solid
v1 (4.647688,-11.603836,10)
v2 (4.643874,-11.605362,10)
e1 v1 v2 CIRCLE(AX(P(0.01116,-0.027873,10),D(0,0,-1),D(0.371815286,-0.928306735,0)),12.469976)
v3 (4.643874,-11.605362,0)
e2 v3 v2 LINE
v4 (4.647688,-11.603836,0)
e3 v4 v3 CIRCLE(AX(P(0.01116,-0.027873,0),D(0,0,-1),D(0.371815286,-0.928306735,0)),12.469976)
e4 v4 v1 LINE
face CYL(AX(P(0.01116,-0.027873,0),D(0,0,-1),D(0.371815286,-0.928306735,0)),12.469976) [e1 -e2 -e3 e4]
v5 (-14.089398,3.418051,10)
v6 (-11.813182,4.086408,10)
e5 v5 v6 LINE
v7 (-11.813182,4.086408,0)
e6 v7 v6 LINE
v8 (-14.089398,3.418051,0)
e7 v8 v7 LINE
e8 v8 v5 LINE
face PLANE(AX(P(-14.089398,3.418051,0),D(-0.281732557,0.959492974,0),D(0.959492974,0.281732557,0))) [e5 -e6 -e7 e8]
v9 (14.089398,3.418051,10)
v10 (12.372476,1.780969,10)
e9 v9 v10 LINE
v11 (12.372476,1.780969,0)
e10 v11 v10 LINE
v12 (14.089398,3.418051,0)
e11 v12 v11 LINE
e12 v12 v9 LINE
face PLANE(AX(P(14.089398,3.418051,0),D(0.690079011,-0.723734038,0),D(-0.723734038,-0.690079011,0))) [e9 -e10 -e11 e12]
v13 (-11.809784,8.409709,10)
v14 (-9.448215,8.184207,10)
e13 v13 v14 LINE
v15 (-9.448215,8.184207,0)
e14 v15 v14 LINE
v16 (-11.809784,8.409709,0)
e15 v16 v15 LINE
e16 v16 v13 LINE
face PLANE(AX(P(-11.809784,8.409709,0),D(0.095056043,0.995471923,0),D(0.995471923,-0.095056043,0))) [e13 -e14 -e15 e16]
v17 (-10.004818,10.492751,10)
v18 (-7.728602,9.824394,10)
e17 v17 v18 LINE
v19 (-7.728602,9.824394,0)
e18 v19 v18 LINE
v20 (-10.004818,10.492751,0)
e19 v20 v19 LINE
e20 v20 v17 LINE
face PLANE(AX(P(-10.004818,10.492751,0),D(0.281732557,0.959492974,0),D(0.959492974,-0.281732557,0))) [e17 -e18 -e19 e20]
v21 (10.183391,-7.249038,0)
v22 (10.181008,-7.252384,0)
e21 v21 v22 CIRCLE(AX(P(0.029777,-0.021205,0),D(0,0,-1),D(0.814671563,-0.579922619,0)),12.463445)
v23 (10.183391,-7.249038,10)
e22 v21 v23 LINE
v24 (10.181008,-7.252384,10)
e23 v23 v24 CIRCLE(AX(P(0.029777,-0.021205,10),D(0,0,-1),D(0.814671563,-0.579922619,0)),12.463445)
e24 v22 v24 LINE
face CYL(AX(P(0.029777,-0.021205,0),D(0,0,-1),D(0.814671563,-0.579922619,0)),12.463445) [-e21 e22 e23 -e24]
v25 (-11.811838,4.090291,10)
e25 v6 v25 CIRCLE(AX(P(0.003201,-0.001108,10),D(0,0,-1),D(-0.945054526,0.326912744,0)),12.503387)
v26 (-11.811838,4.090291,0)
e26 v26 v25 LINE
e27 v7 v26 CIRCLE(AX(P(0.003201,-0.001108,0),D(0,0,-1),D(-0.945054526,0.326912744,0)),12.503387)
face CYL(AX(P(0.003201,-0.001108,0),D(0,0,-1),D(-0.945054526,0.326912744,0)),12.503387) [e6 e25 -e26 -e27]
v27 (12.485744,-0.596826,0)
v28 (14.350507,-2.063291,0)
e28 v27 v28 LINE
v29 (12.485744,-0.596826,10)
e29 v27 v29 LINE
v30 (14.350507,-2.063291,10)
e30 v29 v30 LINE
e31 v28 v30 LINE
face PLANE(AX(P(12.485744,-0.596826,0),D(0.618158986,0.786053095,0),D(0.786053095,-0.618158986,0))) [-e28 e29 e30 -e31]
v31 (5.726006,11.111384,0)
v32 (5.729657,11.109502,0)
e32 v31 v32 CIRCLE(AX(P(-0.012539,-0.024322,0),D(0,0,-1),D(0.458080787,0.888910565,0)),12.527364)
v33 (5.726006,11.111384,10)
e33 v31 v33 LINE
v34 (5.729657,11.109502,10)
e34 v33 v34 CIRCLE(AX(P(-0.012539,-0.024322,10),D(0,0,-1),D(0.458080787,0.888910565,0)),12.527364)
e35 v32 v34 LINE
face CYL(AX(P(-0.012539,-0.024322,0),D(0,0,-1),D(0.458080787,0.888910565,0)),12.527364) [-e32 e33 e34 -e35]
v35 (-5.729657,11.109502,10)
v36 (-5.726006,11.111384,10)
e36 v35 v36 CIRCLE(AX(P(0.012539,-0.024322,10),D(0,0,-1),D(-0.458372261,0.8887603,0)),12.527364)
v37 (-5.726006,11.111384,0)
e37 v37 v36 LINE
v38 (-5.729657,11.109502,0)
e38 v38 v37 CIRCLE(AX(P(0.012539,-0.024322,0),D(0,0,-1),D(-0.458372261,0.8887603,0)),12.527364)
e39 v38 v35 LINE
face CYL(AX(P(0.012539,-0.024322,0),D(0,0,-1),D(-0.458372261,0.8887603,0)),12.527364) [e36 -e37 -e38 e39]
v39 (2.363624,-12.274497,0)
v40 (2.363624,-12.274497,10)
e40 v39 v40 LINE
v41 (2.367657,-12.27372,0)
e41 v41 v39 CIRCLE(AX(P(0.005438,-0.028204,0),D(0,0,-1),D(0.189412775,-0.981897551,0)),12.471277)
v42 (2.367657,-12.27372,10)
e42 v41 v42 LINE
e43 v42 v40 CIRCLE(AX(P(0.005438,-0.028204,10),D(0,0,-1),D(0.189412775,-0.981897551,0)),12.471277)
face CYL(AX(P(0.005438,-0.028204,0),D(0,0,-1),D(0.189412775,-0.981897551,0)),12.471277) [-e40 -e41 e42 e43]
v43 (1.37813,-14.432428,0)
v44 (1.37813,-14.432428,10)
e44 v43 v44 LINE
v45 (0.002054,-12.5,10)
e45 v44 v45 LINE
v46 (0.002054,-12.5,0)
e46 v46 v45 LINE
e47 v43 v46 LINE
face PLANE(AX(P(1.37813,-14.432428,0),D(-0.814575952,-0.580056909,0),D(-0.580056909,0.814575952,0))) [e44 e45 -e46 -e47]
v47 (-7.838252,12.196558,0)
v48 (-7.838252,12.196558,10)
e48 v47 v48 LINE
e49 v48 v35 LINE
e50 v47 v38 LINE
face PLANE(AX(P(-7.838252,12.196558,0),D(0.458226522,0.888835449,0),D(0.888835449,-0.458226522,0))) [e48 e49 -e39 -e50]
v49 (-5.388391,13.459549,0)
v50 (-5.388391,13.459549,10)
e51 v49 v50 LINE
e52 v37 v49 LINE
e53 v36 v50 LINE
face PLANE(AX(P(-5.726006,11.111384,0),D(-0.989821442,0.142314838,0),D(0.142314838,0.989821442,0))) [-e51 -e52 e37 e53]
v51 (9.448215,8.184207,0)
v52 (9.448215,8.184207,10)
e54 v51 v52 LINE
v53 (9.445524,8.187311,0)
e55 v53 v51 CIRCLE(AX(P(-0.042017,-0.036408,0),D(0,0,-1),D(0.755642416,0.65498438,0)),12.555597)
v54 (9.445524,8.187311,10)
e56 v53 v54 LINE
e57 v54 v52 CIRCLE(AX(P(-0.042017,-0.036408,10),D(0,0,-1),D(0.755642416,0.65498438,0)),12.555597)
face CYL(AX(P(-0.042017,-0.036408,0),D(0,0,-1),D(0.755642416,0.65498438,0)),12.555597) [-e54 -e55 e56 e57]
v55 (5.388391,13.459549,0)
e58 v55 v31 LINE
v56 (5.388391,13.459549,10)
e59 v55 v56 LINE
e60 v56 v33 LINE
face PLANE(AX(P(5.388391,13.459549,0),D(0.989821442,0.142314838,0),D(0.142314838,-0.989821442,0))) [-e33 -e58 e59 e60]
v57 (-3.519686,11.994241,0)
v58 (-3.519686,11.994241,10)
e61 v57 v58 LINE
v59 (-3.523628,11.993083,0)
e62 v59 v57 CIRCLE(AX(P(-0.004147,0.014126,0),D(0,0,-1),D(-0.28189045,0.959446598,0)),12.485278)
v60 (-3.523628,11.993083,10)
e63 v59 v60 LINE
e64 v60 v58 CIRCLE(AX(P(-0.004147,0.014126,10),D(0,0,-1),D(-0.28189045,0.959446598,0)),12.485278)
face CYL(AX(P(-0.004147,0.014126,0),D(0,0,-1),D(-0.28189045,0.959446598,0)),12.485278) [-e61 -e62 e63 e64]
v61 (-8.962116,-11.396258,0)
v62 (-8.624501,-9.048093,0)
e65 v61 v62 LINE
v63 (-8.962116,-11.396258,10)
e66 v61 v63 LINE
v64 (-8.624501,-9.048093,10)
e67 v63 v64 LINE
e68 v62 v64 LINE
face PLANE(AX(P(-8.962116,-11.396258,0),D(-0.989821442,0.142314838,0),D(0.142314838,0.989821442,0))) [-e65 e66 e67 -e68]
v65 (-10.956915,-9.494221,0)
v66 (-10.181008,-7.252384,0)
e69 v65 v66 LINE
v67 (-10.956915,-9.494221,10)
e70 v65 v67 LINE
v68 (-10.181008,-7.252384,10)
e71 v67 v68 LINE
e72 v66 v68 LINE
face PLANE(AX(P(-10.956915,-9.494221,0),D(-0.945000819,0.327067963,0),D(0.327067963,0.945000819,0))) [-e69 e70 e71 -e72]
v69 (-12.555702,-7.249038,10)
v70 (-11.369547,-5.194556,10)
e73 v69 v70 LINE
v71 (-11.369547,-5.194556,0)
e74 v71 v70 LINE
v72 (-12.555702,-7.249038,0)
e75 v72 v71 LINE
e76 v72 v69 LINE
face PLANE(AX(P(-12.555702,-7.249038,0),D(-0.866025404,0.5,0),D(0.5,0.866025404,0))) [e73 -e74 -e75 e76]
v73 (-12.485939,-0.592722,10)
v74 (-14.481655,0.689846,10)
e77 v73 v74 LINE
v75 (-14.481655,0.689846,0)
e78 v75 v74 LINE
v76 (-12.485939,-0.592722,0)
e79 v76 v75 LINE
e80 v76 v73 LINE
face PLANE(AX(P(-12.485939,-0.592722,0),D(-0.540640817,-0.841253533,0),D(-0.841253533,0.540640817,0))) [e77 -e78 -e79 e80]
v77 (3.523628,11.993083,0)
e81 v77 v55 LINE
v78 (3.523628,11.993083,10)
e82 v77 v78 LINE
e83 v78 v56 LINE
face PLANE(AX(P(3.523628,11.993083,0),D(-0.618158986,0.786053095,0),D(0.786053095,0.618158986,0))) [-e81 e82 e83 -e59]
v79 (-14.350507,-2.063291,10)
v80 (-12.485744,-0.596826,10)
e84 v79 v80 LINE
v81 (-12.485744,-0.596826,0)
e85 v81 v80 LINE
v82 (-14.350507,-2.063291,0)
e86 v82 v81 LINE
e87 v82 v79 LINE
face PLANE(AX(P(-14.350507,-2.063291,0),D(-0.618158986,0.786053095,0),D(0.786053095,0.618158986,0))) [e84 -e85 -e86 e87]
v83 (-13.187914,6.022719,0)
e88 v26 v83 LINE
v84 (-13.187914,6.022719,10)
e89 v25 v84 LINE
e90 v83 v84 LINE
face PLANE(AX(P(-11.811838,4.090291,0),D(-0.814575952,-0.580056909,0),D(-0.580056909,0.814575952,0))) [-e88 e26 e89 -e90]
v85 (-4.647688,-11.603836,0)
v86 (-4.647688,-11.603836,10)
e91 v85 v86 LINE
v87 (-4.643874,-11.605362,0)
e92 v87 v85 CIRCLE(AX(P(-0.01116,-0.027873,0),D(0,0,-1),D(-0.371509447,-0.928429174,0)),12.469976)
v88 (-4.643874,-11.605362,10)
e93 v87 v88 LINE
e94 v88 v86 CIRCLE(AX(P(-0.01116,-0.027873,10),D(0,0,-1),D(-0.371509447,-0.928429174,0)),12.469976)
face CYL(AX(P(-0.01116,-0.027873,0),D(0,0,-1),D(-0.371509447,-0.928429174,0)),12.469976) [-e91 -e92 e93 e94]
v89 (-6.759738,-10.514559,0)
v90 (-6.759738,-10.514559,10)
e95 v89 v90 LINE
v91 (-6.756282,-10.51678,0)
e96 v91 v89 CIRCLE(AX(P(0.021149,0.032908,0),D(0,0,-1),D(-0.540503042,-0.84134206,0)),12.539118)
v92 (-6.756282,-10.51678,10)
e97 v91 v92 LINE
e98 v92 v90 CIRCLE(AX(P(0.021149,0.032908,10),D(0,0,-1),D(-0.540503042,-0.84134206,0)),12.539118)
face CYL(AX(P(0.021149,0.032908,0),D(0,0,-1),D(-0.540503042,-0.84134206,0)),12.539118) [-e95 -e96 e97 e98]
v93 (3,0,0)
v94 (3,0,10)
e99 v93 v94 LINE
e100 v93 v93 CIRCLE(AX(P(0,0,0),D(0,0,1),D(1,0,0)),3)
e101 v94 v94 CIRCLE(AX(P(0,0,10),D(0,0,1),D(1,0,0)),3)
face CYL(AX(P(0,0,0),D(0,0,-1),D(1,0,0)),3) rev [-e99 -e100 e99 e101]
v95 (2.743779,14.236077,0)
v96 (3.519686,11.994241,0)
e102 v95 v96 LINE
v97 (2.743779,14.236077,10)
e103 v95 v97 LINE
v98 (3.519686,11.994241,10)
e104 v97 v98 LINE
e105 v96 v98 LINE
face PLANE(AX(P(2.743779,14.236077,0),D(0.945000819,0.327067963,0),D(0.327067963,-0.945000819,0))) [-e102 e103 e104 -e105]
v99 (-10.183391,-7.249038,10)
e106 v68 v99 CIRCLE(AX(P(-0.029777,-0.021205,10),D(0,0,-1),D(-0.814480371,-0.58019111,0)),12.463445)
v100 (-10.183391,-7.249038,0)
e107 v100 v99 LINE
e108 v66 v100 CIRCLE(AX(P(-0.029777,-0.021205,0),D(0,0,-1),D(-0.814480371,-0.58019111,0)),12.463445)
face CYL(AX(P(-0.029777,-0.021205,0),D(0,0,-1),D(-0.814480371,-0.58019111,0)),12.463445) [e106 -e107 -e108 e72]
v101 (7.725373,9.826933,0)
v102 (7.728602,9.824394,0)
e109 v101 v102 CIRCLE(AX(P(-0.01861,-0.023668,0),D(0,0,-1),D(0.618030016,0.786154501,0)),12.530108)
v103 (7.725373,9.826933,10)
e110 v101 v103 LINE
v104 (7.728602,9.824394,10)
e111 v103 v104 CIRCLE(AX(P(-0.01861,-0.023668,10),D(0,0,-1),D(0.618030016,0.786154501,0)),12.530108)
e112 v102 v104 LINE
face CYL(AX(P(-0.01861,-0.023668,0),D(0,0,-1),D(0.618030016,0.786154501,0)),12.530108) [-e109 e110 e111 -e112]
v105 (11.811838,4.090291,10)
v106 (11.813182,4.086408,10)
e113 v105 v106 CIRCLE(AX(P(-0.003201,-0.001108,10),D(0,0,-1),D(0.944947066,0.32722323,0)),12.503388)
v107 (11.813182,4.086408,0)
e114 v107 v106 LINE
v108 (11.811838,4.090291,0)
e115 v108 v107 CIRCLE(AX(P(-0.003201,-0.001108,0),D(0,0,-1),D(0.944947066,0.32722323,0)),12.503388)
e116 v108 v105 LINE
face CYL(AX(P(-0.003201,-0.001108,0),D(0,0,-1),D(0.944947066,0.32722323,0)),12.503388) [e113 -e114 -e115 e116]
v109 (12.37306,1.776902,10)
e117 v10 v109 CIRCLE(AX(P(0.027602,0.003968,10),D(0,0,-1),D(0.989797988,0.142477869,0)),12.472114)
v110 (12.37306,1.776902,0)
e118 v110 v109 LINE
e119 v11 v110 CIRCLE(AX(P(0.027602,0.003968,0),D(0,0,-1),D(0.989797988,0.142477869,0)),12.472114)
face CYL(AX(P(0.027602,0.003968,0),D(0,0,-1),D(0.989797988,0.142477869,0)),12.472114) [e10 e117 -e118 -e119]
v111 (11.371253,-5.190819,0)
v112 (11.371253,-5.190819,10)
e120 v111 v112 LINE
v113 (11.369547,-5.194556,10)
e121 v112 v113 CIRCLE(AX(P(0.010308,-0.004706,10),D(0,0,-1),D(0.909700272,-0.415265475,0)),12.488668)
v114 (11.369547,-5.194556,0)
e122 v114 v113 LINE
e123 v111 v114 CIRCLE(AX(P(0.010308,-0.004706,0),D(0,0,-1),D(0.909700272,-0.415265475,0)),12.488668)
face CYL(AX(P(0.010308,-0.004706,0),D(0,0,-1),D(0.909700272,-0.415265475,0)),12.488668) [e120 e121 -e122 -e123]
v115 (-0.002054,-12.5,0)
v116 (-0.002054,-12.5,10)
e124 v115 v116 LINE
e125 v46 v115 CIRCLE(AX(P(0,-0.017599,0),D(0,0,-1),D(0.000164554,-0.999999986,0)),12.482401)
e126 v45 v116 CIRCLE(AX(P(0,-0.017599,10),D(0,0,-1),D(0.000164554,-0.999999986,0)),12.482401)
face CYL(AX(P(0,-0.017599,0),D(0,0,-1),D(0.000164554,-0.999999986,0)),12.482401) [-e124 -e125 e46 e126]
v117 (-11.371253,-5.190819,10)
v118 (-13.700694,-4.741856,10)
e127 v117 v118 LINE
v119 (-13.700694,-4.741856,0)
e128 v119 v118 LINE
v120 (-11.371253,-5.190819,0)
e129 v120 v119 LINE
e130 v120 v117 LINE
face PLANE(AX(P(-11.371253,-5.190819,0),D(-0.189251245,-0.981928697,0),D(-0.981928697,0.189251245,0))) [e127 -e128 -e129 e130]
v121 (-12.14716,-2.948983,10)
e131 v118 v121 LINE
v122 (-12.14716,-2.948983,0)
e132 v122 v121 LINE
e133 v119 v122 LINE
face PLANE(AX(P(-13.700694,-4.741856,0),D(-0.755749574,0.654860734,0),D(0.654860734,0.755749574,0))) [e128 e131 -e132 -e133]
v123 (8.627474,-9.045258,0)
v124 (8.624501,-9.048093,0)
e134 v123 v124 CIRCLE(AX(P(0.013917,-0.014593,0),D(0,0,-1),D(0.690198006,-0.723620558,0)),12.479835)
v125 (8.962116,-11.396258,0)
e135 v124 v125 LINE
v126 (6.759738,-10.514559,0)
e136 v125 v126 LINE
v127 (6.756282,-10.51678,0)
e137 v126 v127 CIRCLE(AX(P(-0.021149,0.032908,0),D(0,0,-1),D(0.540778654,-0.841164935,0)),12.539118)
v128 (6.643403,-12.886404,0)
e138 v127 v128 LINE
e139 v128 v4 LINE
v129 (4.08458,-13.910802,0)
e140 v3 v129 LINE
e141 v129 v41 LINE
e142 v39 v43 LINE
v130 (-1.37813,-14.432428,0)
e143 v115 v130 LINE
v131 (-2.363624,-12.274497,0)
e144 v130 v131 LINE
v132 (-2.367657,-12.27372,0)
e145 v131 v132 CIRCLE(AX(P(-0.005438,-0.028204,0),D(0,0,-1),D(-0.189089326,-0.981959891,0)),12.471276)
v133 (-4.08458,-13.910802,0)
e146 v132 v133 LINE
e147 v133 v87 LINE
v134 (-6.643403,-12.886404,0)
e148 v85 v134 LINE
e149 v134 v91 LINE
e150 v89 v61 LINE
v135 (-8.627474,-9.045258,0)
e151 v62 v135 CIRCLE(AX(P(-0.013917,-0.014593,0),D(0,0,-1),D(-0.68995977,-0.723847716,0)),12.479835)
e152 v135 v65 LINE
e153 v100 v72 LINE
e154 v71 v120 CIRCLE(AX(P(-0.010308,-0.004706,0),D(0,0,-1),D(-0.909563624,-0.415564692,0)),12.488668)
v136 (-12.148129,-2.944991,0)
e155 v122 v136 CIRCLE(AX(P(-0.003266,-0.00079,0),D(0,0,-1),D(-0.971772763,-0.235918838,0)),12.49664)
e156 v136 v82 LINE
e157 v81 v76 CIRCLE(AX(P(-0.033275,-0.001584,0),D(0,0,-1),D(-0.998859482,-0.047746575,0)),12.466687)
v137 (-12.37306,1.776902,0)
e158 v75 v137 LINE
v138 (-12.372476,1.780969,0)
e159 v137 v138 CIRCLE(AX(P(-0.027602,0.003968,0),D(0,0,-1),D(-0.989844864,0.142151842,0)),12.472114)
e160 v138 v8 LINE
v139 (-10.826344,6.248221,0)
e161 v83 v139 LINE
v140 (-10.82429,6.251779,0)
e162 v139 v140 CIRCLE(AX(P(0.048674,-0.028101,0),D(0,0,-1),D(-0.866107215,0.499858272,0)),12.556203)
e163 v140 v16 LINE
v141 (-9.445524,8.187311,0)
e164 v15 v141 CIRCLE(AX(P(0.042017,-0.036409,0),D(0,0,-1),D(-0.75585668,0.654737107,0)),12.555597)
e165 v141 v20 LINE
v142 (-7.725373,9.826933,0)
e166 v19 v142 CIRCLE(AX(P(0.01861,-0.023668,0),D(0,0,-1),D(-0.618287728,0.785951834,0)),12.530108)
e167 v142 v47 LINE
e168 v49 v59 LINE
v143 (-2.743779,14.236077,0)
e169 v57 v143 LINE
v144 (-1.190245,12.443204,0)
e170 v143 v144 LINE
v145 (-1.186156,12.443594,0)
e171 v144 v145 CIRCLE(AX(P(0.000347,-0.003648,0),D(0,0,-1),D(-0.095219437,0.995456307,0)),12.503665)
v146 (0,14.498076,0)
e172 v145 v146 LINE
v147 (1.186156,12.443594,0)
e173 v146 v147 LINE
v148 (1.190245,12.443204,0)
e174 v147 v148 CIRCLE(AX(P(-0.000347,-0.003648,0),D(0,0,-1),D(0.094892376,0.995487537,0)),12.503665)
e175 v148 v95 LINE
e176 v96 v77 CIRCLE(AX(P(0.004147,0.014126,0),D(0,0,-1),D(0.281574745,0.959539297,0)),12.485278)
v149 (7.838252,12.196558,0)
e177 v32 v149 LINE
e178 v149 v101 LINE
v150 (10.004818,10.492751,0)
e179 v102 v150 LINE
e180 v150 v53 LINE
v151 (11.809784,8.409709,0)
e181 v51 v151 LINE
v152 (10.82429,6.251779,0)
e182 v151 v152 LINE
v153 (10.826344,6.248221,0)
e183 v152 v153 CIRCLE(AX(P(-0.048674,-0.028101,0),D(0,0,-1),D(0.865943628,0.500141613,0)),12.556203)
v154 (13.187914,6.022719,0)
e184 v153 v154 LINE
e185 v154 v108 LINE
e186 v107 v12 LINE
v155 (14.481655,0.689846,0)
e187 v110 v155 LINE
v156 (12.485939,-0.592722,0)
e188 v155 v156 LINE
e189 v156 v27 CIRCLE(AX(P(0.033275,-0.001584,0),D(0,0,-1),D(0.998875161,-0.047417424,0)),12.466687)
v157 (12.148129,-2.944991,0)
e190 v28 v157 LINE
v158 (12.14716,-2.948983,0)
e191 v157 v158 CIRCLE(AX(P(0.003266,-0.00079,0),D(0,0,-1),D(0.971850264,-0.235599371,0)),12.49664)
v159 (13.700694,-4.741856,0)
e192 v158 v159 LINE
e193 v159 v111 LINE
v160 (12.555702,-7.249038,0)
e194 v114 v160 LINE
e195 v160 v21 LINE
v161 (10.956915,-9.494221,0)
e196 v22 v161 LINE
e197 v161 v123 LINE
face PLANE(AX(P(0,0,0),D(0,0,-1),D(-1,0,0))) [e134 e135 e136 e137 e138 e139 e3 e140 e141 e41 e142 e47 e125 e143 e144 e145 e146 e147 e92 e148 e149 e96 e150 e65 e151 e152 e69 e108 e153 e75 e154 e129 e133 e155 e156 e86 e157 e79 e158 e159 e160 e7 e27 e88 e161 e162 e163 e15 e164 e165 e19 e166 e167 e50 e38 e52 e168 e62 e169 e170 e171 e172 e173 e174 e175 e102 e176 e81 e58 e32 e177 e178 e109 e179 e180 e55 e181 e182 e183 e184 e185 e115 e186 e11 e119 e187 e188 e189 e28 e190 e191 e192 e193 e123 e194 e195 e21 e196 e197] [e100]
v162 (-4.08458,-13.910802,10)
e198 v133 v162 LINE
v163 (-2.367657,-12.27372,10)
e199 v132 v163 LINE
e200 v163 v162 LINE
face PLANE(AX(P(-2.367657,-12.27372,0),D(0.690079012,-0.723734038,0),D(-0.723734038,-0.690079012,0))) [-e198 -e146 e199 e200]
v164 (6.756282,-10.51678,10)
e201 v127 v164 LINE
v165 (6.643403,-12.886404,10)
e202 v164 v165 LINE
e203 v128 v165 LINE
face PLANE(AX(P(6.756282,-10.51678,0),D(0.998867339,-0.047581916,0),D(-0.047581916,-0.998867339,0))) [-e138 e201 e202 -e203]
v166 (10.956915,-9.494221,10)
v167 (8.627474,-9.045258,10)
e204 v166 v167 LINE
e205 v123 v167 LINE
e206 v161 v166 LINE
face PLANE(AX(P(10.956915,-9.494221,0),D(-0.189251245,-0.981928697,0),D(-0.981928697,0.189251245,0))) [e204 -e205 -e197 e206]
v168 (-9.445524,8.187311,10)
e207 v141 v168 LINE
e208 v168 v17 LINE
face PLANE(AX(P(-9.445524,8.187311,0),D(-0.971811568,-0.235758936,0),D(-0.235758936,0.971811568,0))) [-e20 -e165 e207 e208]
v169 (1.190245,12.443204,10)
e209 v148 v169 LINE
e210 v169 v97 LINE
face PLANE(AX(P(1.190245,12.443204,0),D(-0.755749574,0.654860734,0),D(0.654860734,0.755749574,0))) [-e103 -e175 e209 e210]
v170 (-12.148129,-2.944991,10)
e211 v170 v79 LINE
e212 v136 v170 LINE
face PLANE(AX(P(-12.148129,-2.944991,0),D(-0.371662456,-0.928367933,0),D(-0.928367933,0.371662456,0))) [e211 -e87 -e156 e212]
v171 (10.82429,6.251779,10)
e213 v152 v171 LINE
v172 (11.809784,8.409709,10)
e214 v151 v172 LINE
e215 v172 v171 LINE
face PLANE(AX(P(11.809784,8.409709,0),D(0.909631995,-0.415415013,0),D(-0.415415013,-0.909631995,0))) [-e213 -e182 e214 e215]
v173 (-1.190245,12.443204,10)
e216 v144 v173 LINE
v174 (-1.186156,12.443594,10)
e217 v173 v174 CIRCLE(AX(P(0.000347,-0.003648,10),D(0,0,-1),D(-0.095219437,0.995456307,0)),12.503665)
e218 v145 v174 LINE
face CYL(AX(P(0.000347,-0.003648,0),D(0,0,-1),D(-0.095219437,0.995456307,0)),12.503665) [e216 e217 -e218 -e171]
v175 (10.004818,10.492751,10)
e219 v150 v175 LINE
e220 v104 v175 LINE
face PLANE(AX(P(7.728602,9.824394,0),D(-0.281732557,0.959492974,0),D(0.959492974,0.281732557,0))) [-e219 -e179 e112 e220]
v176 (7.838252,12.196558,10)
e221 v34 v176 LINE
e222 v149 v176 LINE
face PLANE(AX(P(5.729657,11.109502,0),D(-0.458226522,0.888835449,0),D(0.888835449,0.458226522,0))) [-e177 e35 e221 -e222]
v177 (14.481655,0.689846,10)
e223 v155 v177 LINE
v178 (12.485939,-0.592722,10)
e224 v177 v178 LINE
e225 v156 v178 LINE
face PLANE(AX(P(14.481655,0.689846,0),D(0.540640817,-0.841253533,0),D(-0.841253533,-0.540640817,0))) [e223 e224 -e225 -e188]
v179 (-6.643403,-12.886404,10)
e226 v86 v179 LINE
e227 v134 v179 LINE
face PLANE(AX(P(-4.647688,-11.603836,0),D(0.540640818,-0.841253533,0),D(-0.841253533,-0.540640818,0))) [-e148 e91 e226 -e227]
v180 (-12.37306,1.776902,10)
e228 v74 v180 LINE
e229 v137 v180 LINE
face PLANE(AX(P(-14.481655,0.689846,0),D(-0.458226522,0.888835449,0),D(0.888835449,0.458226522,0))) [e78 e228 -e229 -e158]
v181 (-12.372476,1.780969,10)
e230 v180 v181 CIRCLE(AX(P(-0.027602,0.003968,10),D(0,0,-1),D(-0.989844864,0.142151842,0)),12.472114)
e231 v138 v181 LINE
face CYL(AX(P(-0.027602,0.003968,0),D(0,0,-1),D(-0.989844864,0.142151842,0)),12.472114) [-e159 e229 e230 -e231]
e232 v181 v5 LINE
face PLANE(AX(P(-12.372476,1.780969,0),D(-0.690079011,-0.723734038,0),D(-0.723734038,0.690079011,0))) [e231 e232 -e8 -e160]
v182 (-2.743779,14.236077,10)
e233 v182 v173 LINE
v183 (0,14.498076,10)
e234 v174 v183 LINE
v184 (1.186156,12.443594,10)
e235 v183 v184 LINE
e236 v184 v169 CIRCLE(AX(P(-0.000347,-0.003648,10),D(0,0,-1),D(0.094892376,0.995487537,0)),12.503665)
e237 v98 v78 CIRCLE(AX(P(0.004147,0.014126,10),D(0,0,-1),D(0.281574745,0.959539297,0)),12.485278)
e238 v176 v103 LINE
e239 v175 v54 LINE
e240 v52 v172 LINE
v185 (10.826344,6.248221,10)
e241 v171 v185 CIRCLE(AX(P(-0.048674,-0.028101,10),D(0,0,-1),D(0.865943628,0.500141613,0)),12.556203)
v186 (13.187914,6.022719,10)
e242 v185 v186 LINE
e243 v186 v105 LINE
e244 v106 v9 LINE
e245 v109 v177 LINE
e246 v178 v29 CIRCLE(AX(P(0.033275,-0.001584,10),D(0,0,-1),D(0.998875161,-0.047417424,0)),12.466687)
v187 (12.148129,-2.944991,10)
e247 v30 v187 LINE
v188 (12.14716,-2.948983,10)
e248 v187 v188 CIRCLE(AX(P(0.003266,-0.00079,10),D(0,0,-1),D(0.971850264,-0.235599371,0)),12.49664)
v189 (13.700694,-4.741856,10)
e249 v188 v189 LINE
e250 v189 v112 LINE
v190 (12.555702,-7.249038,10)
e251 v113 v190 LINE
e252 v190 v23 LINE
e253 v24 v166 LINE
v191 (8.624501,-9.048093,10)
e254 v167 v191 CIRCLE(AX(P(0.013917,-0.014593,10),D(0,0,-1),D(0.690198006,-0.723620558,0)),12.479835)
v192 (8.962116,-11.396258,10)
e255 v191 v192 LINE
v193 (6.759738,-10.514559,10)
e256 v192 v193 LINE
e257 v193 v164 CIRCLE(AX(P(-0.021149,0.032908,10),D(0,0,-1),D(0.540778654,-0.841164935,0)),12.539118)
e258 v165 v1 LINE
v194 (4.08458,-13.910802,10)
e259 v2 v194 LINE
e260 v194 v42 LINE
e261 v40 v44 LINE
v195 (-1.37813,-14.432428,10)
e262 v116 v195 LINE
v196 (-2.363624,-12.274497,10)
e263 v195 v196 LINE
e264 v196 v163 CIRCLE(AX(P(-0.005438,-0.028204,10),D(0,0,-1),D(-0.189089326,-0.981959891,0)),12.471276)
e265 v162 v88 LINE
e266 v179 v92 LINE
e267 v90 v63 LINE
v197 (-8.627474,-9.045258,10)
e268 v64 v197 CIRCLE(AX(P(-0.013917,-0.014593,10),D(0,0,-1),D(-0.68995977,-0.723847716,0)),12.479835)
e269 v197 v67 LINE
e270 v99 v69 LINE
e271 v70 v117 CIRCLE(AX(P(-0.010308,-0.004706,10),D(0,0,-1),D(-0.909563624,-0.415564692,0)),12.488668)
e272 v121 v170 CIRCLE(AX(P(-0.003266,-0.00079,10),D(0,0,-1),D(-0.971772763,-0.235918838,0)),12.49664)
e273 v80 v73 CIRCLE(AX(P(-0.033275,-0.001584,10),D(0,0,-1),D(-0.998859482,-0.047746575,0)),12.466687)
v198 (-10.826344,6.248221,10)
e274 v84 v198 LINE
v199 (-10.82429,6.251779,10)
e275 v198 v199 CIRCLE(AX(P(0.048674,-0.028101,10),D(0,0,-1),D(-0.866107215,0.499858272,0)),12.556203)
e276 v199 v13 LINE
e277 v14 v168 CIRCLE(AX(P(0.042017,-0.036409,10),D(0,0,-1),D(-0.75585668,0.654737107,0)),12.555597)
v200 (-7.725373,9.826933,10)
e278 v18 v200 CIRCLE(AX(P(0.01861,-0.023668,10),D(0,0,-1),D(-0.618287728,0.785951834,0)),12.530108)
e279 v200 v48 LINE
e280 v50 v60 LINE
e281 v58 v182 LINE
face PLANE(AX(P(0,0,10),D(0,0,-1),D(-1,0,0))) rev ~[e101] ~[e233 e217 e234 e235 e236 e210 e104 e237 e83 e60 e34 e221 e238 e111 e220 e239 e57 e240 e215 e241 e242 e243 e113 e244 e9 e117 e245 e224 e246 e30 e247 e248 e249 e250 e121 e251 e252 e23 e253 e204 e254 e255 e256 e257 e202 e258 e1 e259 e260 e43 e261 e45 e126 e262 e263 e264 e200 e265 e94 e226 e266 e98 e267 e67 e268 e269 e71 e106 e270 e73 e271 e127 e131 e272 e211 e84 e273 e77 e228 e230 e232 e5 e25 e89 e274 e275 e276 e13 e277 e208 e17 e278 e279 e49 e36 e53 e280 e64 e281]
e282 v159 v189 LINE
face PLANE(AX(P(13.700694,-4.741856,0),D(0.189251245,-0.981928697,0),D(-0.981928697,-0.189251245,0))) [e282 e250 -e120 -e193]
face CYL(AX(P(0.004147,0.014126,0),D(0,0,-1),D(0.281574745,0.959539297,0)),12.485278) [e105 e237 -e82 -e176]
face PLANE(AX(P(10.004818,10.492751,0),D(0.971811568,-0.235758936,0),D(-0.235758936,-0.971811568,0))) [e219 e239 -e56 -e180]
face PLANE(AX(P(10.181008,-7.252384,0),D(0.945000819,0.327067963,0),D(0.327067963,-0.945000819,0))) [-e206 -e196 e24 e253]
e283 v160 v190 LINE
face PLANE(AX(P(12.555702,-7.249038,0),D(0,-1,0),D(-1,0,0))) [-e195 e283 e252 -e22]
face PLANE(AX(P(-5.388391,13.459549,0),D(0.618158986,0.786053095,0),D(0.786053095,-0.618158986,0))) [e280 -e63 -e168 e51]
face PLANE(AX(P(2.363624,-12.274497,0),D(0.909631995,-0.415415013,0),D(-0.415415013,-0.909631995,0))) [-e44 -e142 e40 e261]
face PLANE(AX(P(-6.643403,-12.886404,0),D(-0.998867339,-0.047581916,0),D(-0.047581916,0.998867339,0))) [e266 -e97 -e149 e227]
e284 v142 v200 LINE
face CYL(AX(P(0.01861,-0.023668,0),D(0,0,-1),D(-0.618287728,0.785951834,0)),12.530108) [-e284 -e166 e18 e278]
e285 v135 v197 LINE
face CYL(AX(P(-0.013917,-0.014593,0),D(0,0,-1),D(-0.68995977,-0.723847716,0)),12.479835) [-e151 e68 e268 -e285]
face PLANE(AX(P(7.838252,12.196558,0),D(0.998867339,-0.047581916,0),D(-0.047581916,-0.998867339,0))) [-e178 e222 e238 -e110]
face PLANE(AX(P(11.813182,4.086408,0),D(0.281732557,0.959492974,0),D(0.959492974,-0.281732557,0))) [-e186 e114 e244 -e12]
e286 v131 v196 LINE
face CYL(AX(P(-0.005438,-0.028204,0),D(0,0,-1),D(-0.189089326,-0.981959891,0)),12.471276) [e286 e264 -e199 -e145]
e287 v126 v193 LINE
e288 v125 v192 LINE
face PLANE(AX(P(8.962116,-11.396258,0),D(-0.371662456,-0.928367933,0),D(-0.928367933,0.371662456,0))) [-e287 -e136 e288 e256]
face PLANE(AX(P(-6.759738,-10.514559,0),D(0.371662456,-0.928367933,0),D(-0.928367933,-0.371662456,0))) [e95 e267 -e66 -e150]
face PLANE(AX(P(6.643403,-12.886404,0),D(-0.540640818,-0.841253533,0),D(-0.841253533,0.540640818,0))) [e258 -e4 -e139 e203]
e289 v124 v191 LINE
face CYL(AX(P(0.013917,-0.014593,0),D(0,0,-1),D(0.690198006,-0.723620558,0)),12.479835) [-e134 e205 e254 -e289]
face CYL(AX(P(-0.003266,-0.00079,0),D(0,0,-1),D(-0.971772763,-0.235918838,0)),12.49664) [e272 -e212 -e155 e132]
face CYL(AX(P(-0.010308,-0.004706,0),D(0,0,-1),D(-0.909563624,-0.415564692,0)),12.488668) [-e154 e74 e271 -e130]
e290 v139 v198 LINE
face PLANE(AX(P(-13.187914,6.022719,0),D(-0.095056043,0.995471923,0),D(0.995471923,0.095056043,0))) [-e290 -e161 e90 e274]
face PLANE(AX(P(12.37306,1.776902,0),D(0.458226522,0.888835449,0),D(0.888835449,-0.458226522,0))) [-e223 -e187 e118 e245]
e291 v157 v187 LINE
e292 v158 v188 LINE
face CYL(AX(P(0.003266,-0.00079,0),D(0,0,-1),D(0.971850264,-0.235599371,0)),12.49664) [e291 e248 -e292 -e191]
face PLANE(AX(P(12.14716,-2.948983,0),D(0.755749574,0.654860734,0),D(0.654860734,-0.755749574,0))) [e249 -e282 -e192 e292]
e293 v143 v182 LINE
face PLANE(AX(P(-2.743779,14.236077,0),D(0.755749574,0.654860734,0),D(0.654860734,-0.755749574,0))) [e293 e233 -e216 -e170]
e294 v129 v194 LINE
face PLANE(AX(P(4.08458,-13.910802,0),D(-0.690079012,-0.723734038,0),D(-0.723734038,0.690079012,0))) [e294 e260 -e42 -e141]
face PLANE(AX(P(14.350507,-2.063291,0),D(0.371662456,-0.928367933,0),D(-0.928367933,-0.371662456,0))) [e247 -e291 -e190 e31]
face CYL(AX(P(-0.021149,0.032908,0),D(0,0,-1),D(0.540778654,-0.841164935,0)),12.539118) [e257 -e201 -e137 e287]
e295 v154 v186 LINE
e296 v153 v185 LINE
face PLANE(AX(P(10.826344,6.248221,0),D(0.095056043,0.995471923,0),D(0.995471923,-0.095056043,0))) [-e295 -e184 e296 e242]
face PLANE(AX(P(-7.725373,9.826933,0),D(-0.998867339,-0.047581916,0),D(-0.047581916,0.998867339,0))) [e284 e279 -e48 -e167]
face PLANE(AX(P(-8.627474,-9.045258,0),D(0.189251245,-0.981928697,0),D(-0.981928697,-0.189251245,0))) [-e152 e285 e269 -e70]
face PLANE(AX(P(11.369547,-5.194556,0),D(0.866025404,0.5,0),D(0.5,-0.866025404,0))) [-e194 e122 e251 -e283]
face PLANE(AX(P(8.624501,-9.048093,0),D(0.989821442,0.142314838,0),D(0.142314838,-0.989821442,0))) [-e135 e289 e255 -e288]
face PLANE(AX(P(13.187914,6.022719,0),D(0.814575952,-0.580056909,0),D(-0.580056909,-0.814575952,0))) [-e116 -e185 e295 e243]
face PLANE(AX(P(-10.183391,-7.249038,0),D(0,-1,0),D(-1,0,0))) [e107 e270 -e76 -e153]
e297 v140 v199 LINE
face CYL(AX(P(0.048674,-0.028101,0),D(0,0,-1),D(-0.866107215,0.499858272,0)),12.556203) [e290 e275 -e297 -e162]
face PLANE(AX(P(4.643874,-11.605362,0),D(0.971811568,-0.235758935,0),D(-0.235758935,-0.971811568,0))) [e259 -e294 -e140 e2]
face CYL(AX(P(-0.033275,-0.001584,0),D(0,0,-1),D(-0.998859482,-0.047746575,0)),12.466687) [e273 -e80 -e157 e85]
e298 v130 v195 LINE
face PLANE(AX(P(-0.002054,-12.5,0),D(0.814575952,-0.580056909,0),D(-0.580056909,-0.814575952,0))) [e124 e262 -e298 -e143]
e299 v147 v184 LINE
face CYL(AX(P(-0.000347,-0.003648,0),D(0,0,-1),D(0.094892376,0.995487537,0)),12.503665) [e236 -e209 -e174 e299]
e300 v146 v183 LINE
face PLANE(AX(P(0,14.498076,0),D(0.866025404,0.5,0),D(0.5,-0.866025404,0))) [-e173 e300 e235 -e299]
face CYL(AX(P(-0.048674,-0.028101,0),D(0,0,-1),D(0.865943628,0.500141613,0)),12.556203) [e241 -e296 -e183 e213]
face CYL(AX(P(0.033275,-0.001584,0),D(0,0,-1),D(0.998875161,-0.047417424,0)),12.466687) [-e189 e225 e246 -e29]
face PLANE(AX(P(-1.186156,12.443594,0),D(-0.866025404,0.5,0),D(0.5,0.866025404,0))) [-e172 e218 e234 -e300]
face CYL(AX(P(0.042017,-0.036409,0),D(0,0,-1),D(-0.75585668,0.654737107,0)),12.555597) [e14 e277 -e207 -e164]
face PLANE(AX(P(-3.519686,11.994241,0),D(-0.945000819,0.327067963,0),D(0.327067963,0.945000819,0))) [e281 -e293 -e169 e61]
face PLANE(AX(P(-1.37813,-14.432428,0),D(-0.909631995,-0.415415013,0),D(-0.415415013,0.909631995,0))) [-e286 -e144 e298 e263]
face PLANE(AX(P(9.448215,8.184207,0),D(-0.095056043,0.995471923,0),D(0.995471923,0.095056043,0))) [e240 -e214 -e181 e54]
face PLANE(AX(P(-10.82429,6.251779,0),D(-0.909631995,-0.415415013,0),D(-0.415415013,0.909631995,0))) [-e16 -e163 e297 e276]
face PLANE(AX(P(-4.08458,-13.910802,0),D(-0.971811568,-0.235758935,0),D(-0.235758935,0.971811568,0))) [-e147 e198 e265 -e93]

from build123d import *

# Parameters (mm, degrees)
SKETCH1_R           = 3
BOSS_EXTRUDE1_DEPTH = 10


with BuildPart() as part:
    # Sketch1 → Boss-Extrude1 (new body)
    with BuildSketch(Plane.XY):
        with BuildLine():
            Line((0, 14.498076211), (1.186155793, 12.443594112))
            ThreePointArc((1.186155793, 12.443594112), (1.188200541, 12.443399032), (1.190245258, 12.443203616))
            Line((1.190245258, 12.443203616), (2.743778964, 14.236077087))
            Line((2.743778964, 14.236077087), (3.519686083, 11.994240696))
            ThreePointArc((3.519686083, 11.994240696), (3.521656961, 11.99366217), (3.523627743, 11.99308332))
            Line((3.523627743, 11.99308332), (5.388390607, 13.459549045))
            Line((5.388390607, 13.459549045), (5.726005747, 11.111384171))
            ThreePointArc((5.726005747, 11.111384171), (5.727831522, 11.110443108), (5.729657142, 11.109501746))
            Line((5.729657142, 11.109501746), (7.838251774, 12.196557832))
            Line((7.838251774, 12.196557832), (7.725372644, 9.826933271))
            ThreePointArc((7.725372644, 9.826933271), (7.726987328, 9.825663684), (7.728601803, 9.824393833))
            Line((7.728601803, 9.824393833), (10.0048181, 10.492751241))
            Line((10.0048181, 10.492751241), (9.445524446, 8.187311399))
            ThreePointArc((9.445524446, 8.187311399), (9.446869679, 8.185759174), (9.448214658, 8.184206729))
            Line((9.448214658, 8.184206729), (11.809784233, 8.409709282))
            Line((11.809784233, 8.409709282), (10.824290385, 6.251778761))
            ThreePointArc((10.824290385, 6.251778761), (10.825317547, 6.25), (10.826344418, 6.248221071))
            Line((10.826344418, 6.248221071), (13.187913993, 6.022718518))
            Line((13.187913993, 6.022718518), (11.811838266, 4.090290549))
            ThreePointArc((11.811838266, 4.090290549), (11.812510234, 4.088349541), (11.813181883, 4.086408423))
            Line((11.813181883, 4.086408423), (14.089398181, 3.418051015))
            Line((14.089398181, 3.418051015), (12.372475537, 1.780968581))
            ThreePointArc((12.372475537, 1.780968581), (12.372768024, 1.778935478), (12.373060176, 1.776902328))
            Line((12.373060176, 1.776902328), (14.481654809, 0.689846242))
            Line((14.481654809, 0.689846242), (12.485939306, -0.592722233))
            ThreePointArc((12.485939306, -0.592722233), (12.48584174, -0.594773948), (12.485743836, -0.596825646))
            Line((12.485743836, -0.596825646), (14.3505067, -2.063291371))
            Line((14.3505067, -2.063291371), (12.148128697, -2.944990521))
            ThreePointArc((12.148128697, -2.944990521), (12.147644604, -2.946986694), (12.147160183, -2.948982787))
            Line((12.147160183, -2.948982787), (13.70069389, -4.741856258))
            Line((13.70069389, -4.741856258), (11.371253065, -5.190819178))
            ThreePointArc((11.371253065, -5.190819178), (11.370399942, -5.192687663), (11.369546512, -5.194556007))
            Line((11.369546512, -5.194556007), (12.555702305, -7.249038106))
            Line((12.555702305, -7.249038106), (10.183390719, -7.249038106))
            ThreePointArc((10.183390719, -7.249038106), (10.182199401, -7.25071137), (10.181007807, -7.252384438))
            Line((10.181007807, -7.252384438), (10.956914926, -9.494220829))
            Line((10.956914926, -9.494220829), (8.627474101, -9.045257909))
            ThreePointArc((8.627474101, -9.045257909), (8.625987644, -9.046675476), (8.624500953, -9.048092799))
            Line((8.624500953, -9.048092799), (8.962116093, -11.396257674))
            Line((8.962116093, -11.396257674), (6.75973809, -10.514558524))
            ThreePointArc((6.75973809, -10.514558524), (6.758010218, -10.51566916), (6.756282164, -10.516779513))
            Line((6.756282164, -10.516779513), (6.643403034, -12.886404074))
            Line((6.643403034, -12.886404074), (4.647687532, -11.603835599))
            ThreePointArc((4.647687532, -11.603835599), (4.645780696, -11.604599163), (4.643873734, -11.605362413))
            Line((4.643873734, -11.605362413), (4.08458008, -13.910802256))
            Line((4.08458008, -13.910802256), (2.367657437, -12.273719822))
            ThreePointArc((2.367657437, -12.273719822), (2.365640555, -12.274108716), (2.363623608, -12.274497278))
            Line((2.363623608, -12.274497278), (1.37812976, -14.4324278))
            Line((1.37812976, -14.4324278), (0.002054033, -12.499999831))
            ThreePointArc((0.002054033, -12.499999831), (0, -12.5), (-0.002054033, -12.499999831))
            Line((-0.002054033, -12.499999831), (-1.37812976, -14.4324278))
            Line((-1.37812976, -14.4324278), (-2.363623608, -12.274497278))
            ThreePointArc((-2.363623608, -12.274497278), (-2.365640555, -12.274108716), (-2.367657437, -12.273719822))
            Line((-2.367657437, -12.273719822), (-4.08458008, -13.910802256))
            Line((-4.08458008, -13.910802256), (-4.643873734, -11.605362413))
            ThreePointArc((-4.643873734, -11.605362413), (-4.645780696, -11.604599163), (-4.647687532, -11.603835599))
            Line((-4.647687532, -11.603835599), (-6.643403034, -12.886404074))
            Line((-6.643403034, -12.886404074), (-6.756282164, -10.516779513))
            ThreePointArc((-6.756282164, -10.516779513), (-6.758010218, -10.51566916), (-6.75973809, -10.514558524))
            Line((-6.75973809, -10.514558524), (-8.962116093, -11.396257674))
            Line((-8.962116093, -11.396257674), (-8.624500953, -9.048092799))
            ThreePointArc((-8.624500953, -9.048092799), (-8.625987644, -9.046675476), (-8.627474101, -9.045257909))
            Line((-8.627474101, -9.045257909), (-10.956914926, -9.494220829))
            Line((-10.956914926, -9.494220829), (-10.181007807, -7.252384438))
            ThreePointArc((-10.181007807, -7.252384438), (-10.182199401, -7.25071137), (-10.183390719, -7.249038106))
            Line((-10.183390719, -7.249038106), (-12.555702305, -7.249038106))
            Line((-12.555702305, -7.249038106), (-11.369546512, -5.194556007))
            ThreePointArc((-11.369546512, -5.194556007), (-11.370399942, -5.192687663), (-11.371253065, -5.190819178))
            Line((-11.371253065, -5.190819178), (-13.70069389, -4.741856258))
            Line((-13.70069389, -4.741856258), (-12.147160183, -2.948982787))
            ThreePointArc((-12.147160183, -2.948982787), (-12.147644604, -2.946986694), (-12.148128697, -2.944990521))
            Line((-12.148128697, -2.944990521), (-14.3505067, -2.063291371))
            Line((-14.3505067, -2.063291371), (-12.485743836, -0.596825646))
            ThreePointArc((-12.485743836, -0.596825646), (-12.48584174, -0.594773948), (-12.485939306, -0.592722233))
            Line((-12.485939306, -0.592722233), (-14.481654809, 0.689846242))
            Line((-14.481654809, 0.689846242), (-12.373060176, 1.776902328))
            ThreePointArc((-12.373060176, 1.776902328), (-12.372768024, 1.778935478), (-12.372475537, 1.780968581))
            Line((-12.372475537, 1.780968581), (-14.089398181, 3.418051015))
            Line((-14.089398181, 3.418051015), (-11.813181883, 4.086408423))
            ThreePointArc((-11.813181883, 4.086408423), (-11.812510234, 4.088349541), (-11.811838266, 4.090290549))
            Line((-11.811838266, 4.090290549), (-13.187913993, 6.022718518))
            Line((-13.187913993, 6.022718518), (-10.826344418, 6.248221071))
            ThreePointArc((-10.826344418, 6.248221071), (-10.825317547, 6.25), (-10.824290385, 6.251778761))
            Line((-10.824290385, 6.251778761), (-11.809784233, 8.409709282))
            Line((-11.809784233, 8.409709282), (-9.448214658, 8.184206729))
            ThreePointArc((-9.448214658, 8.184206729), (-9.446869679, 8.185759174), (-9.445524446, 8.187311399))
            Line((-9.445524446, 8.187311399), (-10.0048181, 10.492751241))
            Line((-10.0048181, 10.492751241), (-7.728601803, 9.824393833))
            ThreePointArc((-7.728601803, 9.824393833), (-7.726987328, 9.825663684), (-7.725372644, 9.826933271))
            Line((-7.725372644, 9.826933271), (-7.838251774, 12.196557832))
            Line((-7.838251774, 12.196557832), (-5.729657142, 11.109501746))
            ThreePointArc((-5.729657142, 11.109501746), (-5.727831522, 11.110443108), (-5.726005747, 11.111384171))
            Line((-5.726005747, 11.111384171), (-5.388390607, 13.459549045))
            Line((-5.388390607, 13.459549045), (-3.523627743, 11.99308332))
            ThreePointArc((-3.523627743, 11.99308332), (-3.521656961, 11.99366217), (-3.519686083, 11.994240696))
            Line((-3.519686083, 11.994240696), (-2.743778964, 14.236077087))
            Line((-2.743778964, 14.236077087), (-1.190245258, 12.443203616))
            ThreePointArc((-1.190245258, 12.443203616), (-1.188200541, 12.443399032), (-1.186155793, 12.443594112))
            Line((-1.186155793, 12.443594112), (0, 14.498076211))
        make_face()
        Circle(SKETCH1_R, mode=Mode.SUBTRACT)
    extrude(amount=BOSS_EXTRUDE1_DEPTH)


solid = part.part
